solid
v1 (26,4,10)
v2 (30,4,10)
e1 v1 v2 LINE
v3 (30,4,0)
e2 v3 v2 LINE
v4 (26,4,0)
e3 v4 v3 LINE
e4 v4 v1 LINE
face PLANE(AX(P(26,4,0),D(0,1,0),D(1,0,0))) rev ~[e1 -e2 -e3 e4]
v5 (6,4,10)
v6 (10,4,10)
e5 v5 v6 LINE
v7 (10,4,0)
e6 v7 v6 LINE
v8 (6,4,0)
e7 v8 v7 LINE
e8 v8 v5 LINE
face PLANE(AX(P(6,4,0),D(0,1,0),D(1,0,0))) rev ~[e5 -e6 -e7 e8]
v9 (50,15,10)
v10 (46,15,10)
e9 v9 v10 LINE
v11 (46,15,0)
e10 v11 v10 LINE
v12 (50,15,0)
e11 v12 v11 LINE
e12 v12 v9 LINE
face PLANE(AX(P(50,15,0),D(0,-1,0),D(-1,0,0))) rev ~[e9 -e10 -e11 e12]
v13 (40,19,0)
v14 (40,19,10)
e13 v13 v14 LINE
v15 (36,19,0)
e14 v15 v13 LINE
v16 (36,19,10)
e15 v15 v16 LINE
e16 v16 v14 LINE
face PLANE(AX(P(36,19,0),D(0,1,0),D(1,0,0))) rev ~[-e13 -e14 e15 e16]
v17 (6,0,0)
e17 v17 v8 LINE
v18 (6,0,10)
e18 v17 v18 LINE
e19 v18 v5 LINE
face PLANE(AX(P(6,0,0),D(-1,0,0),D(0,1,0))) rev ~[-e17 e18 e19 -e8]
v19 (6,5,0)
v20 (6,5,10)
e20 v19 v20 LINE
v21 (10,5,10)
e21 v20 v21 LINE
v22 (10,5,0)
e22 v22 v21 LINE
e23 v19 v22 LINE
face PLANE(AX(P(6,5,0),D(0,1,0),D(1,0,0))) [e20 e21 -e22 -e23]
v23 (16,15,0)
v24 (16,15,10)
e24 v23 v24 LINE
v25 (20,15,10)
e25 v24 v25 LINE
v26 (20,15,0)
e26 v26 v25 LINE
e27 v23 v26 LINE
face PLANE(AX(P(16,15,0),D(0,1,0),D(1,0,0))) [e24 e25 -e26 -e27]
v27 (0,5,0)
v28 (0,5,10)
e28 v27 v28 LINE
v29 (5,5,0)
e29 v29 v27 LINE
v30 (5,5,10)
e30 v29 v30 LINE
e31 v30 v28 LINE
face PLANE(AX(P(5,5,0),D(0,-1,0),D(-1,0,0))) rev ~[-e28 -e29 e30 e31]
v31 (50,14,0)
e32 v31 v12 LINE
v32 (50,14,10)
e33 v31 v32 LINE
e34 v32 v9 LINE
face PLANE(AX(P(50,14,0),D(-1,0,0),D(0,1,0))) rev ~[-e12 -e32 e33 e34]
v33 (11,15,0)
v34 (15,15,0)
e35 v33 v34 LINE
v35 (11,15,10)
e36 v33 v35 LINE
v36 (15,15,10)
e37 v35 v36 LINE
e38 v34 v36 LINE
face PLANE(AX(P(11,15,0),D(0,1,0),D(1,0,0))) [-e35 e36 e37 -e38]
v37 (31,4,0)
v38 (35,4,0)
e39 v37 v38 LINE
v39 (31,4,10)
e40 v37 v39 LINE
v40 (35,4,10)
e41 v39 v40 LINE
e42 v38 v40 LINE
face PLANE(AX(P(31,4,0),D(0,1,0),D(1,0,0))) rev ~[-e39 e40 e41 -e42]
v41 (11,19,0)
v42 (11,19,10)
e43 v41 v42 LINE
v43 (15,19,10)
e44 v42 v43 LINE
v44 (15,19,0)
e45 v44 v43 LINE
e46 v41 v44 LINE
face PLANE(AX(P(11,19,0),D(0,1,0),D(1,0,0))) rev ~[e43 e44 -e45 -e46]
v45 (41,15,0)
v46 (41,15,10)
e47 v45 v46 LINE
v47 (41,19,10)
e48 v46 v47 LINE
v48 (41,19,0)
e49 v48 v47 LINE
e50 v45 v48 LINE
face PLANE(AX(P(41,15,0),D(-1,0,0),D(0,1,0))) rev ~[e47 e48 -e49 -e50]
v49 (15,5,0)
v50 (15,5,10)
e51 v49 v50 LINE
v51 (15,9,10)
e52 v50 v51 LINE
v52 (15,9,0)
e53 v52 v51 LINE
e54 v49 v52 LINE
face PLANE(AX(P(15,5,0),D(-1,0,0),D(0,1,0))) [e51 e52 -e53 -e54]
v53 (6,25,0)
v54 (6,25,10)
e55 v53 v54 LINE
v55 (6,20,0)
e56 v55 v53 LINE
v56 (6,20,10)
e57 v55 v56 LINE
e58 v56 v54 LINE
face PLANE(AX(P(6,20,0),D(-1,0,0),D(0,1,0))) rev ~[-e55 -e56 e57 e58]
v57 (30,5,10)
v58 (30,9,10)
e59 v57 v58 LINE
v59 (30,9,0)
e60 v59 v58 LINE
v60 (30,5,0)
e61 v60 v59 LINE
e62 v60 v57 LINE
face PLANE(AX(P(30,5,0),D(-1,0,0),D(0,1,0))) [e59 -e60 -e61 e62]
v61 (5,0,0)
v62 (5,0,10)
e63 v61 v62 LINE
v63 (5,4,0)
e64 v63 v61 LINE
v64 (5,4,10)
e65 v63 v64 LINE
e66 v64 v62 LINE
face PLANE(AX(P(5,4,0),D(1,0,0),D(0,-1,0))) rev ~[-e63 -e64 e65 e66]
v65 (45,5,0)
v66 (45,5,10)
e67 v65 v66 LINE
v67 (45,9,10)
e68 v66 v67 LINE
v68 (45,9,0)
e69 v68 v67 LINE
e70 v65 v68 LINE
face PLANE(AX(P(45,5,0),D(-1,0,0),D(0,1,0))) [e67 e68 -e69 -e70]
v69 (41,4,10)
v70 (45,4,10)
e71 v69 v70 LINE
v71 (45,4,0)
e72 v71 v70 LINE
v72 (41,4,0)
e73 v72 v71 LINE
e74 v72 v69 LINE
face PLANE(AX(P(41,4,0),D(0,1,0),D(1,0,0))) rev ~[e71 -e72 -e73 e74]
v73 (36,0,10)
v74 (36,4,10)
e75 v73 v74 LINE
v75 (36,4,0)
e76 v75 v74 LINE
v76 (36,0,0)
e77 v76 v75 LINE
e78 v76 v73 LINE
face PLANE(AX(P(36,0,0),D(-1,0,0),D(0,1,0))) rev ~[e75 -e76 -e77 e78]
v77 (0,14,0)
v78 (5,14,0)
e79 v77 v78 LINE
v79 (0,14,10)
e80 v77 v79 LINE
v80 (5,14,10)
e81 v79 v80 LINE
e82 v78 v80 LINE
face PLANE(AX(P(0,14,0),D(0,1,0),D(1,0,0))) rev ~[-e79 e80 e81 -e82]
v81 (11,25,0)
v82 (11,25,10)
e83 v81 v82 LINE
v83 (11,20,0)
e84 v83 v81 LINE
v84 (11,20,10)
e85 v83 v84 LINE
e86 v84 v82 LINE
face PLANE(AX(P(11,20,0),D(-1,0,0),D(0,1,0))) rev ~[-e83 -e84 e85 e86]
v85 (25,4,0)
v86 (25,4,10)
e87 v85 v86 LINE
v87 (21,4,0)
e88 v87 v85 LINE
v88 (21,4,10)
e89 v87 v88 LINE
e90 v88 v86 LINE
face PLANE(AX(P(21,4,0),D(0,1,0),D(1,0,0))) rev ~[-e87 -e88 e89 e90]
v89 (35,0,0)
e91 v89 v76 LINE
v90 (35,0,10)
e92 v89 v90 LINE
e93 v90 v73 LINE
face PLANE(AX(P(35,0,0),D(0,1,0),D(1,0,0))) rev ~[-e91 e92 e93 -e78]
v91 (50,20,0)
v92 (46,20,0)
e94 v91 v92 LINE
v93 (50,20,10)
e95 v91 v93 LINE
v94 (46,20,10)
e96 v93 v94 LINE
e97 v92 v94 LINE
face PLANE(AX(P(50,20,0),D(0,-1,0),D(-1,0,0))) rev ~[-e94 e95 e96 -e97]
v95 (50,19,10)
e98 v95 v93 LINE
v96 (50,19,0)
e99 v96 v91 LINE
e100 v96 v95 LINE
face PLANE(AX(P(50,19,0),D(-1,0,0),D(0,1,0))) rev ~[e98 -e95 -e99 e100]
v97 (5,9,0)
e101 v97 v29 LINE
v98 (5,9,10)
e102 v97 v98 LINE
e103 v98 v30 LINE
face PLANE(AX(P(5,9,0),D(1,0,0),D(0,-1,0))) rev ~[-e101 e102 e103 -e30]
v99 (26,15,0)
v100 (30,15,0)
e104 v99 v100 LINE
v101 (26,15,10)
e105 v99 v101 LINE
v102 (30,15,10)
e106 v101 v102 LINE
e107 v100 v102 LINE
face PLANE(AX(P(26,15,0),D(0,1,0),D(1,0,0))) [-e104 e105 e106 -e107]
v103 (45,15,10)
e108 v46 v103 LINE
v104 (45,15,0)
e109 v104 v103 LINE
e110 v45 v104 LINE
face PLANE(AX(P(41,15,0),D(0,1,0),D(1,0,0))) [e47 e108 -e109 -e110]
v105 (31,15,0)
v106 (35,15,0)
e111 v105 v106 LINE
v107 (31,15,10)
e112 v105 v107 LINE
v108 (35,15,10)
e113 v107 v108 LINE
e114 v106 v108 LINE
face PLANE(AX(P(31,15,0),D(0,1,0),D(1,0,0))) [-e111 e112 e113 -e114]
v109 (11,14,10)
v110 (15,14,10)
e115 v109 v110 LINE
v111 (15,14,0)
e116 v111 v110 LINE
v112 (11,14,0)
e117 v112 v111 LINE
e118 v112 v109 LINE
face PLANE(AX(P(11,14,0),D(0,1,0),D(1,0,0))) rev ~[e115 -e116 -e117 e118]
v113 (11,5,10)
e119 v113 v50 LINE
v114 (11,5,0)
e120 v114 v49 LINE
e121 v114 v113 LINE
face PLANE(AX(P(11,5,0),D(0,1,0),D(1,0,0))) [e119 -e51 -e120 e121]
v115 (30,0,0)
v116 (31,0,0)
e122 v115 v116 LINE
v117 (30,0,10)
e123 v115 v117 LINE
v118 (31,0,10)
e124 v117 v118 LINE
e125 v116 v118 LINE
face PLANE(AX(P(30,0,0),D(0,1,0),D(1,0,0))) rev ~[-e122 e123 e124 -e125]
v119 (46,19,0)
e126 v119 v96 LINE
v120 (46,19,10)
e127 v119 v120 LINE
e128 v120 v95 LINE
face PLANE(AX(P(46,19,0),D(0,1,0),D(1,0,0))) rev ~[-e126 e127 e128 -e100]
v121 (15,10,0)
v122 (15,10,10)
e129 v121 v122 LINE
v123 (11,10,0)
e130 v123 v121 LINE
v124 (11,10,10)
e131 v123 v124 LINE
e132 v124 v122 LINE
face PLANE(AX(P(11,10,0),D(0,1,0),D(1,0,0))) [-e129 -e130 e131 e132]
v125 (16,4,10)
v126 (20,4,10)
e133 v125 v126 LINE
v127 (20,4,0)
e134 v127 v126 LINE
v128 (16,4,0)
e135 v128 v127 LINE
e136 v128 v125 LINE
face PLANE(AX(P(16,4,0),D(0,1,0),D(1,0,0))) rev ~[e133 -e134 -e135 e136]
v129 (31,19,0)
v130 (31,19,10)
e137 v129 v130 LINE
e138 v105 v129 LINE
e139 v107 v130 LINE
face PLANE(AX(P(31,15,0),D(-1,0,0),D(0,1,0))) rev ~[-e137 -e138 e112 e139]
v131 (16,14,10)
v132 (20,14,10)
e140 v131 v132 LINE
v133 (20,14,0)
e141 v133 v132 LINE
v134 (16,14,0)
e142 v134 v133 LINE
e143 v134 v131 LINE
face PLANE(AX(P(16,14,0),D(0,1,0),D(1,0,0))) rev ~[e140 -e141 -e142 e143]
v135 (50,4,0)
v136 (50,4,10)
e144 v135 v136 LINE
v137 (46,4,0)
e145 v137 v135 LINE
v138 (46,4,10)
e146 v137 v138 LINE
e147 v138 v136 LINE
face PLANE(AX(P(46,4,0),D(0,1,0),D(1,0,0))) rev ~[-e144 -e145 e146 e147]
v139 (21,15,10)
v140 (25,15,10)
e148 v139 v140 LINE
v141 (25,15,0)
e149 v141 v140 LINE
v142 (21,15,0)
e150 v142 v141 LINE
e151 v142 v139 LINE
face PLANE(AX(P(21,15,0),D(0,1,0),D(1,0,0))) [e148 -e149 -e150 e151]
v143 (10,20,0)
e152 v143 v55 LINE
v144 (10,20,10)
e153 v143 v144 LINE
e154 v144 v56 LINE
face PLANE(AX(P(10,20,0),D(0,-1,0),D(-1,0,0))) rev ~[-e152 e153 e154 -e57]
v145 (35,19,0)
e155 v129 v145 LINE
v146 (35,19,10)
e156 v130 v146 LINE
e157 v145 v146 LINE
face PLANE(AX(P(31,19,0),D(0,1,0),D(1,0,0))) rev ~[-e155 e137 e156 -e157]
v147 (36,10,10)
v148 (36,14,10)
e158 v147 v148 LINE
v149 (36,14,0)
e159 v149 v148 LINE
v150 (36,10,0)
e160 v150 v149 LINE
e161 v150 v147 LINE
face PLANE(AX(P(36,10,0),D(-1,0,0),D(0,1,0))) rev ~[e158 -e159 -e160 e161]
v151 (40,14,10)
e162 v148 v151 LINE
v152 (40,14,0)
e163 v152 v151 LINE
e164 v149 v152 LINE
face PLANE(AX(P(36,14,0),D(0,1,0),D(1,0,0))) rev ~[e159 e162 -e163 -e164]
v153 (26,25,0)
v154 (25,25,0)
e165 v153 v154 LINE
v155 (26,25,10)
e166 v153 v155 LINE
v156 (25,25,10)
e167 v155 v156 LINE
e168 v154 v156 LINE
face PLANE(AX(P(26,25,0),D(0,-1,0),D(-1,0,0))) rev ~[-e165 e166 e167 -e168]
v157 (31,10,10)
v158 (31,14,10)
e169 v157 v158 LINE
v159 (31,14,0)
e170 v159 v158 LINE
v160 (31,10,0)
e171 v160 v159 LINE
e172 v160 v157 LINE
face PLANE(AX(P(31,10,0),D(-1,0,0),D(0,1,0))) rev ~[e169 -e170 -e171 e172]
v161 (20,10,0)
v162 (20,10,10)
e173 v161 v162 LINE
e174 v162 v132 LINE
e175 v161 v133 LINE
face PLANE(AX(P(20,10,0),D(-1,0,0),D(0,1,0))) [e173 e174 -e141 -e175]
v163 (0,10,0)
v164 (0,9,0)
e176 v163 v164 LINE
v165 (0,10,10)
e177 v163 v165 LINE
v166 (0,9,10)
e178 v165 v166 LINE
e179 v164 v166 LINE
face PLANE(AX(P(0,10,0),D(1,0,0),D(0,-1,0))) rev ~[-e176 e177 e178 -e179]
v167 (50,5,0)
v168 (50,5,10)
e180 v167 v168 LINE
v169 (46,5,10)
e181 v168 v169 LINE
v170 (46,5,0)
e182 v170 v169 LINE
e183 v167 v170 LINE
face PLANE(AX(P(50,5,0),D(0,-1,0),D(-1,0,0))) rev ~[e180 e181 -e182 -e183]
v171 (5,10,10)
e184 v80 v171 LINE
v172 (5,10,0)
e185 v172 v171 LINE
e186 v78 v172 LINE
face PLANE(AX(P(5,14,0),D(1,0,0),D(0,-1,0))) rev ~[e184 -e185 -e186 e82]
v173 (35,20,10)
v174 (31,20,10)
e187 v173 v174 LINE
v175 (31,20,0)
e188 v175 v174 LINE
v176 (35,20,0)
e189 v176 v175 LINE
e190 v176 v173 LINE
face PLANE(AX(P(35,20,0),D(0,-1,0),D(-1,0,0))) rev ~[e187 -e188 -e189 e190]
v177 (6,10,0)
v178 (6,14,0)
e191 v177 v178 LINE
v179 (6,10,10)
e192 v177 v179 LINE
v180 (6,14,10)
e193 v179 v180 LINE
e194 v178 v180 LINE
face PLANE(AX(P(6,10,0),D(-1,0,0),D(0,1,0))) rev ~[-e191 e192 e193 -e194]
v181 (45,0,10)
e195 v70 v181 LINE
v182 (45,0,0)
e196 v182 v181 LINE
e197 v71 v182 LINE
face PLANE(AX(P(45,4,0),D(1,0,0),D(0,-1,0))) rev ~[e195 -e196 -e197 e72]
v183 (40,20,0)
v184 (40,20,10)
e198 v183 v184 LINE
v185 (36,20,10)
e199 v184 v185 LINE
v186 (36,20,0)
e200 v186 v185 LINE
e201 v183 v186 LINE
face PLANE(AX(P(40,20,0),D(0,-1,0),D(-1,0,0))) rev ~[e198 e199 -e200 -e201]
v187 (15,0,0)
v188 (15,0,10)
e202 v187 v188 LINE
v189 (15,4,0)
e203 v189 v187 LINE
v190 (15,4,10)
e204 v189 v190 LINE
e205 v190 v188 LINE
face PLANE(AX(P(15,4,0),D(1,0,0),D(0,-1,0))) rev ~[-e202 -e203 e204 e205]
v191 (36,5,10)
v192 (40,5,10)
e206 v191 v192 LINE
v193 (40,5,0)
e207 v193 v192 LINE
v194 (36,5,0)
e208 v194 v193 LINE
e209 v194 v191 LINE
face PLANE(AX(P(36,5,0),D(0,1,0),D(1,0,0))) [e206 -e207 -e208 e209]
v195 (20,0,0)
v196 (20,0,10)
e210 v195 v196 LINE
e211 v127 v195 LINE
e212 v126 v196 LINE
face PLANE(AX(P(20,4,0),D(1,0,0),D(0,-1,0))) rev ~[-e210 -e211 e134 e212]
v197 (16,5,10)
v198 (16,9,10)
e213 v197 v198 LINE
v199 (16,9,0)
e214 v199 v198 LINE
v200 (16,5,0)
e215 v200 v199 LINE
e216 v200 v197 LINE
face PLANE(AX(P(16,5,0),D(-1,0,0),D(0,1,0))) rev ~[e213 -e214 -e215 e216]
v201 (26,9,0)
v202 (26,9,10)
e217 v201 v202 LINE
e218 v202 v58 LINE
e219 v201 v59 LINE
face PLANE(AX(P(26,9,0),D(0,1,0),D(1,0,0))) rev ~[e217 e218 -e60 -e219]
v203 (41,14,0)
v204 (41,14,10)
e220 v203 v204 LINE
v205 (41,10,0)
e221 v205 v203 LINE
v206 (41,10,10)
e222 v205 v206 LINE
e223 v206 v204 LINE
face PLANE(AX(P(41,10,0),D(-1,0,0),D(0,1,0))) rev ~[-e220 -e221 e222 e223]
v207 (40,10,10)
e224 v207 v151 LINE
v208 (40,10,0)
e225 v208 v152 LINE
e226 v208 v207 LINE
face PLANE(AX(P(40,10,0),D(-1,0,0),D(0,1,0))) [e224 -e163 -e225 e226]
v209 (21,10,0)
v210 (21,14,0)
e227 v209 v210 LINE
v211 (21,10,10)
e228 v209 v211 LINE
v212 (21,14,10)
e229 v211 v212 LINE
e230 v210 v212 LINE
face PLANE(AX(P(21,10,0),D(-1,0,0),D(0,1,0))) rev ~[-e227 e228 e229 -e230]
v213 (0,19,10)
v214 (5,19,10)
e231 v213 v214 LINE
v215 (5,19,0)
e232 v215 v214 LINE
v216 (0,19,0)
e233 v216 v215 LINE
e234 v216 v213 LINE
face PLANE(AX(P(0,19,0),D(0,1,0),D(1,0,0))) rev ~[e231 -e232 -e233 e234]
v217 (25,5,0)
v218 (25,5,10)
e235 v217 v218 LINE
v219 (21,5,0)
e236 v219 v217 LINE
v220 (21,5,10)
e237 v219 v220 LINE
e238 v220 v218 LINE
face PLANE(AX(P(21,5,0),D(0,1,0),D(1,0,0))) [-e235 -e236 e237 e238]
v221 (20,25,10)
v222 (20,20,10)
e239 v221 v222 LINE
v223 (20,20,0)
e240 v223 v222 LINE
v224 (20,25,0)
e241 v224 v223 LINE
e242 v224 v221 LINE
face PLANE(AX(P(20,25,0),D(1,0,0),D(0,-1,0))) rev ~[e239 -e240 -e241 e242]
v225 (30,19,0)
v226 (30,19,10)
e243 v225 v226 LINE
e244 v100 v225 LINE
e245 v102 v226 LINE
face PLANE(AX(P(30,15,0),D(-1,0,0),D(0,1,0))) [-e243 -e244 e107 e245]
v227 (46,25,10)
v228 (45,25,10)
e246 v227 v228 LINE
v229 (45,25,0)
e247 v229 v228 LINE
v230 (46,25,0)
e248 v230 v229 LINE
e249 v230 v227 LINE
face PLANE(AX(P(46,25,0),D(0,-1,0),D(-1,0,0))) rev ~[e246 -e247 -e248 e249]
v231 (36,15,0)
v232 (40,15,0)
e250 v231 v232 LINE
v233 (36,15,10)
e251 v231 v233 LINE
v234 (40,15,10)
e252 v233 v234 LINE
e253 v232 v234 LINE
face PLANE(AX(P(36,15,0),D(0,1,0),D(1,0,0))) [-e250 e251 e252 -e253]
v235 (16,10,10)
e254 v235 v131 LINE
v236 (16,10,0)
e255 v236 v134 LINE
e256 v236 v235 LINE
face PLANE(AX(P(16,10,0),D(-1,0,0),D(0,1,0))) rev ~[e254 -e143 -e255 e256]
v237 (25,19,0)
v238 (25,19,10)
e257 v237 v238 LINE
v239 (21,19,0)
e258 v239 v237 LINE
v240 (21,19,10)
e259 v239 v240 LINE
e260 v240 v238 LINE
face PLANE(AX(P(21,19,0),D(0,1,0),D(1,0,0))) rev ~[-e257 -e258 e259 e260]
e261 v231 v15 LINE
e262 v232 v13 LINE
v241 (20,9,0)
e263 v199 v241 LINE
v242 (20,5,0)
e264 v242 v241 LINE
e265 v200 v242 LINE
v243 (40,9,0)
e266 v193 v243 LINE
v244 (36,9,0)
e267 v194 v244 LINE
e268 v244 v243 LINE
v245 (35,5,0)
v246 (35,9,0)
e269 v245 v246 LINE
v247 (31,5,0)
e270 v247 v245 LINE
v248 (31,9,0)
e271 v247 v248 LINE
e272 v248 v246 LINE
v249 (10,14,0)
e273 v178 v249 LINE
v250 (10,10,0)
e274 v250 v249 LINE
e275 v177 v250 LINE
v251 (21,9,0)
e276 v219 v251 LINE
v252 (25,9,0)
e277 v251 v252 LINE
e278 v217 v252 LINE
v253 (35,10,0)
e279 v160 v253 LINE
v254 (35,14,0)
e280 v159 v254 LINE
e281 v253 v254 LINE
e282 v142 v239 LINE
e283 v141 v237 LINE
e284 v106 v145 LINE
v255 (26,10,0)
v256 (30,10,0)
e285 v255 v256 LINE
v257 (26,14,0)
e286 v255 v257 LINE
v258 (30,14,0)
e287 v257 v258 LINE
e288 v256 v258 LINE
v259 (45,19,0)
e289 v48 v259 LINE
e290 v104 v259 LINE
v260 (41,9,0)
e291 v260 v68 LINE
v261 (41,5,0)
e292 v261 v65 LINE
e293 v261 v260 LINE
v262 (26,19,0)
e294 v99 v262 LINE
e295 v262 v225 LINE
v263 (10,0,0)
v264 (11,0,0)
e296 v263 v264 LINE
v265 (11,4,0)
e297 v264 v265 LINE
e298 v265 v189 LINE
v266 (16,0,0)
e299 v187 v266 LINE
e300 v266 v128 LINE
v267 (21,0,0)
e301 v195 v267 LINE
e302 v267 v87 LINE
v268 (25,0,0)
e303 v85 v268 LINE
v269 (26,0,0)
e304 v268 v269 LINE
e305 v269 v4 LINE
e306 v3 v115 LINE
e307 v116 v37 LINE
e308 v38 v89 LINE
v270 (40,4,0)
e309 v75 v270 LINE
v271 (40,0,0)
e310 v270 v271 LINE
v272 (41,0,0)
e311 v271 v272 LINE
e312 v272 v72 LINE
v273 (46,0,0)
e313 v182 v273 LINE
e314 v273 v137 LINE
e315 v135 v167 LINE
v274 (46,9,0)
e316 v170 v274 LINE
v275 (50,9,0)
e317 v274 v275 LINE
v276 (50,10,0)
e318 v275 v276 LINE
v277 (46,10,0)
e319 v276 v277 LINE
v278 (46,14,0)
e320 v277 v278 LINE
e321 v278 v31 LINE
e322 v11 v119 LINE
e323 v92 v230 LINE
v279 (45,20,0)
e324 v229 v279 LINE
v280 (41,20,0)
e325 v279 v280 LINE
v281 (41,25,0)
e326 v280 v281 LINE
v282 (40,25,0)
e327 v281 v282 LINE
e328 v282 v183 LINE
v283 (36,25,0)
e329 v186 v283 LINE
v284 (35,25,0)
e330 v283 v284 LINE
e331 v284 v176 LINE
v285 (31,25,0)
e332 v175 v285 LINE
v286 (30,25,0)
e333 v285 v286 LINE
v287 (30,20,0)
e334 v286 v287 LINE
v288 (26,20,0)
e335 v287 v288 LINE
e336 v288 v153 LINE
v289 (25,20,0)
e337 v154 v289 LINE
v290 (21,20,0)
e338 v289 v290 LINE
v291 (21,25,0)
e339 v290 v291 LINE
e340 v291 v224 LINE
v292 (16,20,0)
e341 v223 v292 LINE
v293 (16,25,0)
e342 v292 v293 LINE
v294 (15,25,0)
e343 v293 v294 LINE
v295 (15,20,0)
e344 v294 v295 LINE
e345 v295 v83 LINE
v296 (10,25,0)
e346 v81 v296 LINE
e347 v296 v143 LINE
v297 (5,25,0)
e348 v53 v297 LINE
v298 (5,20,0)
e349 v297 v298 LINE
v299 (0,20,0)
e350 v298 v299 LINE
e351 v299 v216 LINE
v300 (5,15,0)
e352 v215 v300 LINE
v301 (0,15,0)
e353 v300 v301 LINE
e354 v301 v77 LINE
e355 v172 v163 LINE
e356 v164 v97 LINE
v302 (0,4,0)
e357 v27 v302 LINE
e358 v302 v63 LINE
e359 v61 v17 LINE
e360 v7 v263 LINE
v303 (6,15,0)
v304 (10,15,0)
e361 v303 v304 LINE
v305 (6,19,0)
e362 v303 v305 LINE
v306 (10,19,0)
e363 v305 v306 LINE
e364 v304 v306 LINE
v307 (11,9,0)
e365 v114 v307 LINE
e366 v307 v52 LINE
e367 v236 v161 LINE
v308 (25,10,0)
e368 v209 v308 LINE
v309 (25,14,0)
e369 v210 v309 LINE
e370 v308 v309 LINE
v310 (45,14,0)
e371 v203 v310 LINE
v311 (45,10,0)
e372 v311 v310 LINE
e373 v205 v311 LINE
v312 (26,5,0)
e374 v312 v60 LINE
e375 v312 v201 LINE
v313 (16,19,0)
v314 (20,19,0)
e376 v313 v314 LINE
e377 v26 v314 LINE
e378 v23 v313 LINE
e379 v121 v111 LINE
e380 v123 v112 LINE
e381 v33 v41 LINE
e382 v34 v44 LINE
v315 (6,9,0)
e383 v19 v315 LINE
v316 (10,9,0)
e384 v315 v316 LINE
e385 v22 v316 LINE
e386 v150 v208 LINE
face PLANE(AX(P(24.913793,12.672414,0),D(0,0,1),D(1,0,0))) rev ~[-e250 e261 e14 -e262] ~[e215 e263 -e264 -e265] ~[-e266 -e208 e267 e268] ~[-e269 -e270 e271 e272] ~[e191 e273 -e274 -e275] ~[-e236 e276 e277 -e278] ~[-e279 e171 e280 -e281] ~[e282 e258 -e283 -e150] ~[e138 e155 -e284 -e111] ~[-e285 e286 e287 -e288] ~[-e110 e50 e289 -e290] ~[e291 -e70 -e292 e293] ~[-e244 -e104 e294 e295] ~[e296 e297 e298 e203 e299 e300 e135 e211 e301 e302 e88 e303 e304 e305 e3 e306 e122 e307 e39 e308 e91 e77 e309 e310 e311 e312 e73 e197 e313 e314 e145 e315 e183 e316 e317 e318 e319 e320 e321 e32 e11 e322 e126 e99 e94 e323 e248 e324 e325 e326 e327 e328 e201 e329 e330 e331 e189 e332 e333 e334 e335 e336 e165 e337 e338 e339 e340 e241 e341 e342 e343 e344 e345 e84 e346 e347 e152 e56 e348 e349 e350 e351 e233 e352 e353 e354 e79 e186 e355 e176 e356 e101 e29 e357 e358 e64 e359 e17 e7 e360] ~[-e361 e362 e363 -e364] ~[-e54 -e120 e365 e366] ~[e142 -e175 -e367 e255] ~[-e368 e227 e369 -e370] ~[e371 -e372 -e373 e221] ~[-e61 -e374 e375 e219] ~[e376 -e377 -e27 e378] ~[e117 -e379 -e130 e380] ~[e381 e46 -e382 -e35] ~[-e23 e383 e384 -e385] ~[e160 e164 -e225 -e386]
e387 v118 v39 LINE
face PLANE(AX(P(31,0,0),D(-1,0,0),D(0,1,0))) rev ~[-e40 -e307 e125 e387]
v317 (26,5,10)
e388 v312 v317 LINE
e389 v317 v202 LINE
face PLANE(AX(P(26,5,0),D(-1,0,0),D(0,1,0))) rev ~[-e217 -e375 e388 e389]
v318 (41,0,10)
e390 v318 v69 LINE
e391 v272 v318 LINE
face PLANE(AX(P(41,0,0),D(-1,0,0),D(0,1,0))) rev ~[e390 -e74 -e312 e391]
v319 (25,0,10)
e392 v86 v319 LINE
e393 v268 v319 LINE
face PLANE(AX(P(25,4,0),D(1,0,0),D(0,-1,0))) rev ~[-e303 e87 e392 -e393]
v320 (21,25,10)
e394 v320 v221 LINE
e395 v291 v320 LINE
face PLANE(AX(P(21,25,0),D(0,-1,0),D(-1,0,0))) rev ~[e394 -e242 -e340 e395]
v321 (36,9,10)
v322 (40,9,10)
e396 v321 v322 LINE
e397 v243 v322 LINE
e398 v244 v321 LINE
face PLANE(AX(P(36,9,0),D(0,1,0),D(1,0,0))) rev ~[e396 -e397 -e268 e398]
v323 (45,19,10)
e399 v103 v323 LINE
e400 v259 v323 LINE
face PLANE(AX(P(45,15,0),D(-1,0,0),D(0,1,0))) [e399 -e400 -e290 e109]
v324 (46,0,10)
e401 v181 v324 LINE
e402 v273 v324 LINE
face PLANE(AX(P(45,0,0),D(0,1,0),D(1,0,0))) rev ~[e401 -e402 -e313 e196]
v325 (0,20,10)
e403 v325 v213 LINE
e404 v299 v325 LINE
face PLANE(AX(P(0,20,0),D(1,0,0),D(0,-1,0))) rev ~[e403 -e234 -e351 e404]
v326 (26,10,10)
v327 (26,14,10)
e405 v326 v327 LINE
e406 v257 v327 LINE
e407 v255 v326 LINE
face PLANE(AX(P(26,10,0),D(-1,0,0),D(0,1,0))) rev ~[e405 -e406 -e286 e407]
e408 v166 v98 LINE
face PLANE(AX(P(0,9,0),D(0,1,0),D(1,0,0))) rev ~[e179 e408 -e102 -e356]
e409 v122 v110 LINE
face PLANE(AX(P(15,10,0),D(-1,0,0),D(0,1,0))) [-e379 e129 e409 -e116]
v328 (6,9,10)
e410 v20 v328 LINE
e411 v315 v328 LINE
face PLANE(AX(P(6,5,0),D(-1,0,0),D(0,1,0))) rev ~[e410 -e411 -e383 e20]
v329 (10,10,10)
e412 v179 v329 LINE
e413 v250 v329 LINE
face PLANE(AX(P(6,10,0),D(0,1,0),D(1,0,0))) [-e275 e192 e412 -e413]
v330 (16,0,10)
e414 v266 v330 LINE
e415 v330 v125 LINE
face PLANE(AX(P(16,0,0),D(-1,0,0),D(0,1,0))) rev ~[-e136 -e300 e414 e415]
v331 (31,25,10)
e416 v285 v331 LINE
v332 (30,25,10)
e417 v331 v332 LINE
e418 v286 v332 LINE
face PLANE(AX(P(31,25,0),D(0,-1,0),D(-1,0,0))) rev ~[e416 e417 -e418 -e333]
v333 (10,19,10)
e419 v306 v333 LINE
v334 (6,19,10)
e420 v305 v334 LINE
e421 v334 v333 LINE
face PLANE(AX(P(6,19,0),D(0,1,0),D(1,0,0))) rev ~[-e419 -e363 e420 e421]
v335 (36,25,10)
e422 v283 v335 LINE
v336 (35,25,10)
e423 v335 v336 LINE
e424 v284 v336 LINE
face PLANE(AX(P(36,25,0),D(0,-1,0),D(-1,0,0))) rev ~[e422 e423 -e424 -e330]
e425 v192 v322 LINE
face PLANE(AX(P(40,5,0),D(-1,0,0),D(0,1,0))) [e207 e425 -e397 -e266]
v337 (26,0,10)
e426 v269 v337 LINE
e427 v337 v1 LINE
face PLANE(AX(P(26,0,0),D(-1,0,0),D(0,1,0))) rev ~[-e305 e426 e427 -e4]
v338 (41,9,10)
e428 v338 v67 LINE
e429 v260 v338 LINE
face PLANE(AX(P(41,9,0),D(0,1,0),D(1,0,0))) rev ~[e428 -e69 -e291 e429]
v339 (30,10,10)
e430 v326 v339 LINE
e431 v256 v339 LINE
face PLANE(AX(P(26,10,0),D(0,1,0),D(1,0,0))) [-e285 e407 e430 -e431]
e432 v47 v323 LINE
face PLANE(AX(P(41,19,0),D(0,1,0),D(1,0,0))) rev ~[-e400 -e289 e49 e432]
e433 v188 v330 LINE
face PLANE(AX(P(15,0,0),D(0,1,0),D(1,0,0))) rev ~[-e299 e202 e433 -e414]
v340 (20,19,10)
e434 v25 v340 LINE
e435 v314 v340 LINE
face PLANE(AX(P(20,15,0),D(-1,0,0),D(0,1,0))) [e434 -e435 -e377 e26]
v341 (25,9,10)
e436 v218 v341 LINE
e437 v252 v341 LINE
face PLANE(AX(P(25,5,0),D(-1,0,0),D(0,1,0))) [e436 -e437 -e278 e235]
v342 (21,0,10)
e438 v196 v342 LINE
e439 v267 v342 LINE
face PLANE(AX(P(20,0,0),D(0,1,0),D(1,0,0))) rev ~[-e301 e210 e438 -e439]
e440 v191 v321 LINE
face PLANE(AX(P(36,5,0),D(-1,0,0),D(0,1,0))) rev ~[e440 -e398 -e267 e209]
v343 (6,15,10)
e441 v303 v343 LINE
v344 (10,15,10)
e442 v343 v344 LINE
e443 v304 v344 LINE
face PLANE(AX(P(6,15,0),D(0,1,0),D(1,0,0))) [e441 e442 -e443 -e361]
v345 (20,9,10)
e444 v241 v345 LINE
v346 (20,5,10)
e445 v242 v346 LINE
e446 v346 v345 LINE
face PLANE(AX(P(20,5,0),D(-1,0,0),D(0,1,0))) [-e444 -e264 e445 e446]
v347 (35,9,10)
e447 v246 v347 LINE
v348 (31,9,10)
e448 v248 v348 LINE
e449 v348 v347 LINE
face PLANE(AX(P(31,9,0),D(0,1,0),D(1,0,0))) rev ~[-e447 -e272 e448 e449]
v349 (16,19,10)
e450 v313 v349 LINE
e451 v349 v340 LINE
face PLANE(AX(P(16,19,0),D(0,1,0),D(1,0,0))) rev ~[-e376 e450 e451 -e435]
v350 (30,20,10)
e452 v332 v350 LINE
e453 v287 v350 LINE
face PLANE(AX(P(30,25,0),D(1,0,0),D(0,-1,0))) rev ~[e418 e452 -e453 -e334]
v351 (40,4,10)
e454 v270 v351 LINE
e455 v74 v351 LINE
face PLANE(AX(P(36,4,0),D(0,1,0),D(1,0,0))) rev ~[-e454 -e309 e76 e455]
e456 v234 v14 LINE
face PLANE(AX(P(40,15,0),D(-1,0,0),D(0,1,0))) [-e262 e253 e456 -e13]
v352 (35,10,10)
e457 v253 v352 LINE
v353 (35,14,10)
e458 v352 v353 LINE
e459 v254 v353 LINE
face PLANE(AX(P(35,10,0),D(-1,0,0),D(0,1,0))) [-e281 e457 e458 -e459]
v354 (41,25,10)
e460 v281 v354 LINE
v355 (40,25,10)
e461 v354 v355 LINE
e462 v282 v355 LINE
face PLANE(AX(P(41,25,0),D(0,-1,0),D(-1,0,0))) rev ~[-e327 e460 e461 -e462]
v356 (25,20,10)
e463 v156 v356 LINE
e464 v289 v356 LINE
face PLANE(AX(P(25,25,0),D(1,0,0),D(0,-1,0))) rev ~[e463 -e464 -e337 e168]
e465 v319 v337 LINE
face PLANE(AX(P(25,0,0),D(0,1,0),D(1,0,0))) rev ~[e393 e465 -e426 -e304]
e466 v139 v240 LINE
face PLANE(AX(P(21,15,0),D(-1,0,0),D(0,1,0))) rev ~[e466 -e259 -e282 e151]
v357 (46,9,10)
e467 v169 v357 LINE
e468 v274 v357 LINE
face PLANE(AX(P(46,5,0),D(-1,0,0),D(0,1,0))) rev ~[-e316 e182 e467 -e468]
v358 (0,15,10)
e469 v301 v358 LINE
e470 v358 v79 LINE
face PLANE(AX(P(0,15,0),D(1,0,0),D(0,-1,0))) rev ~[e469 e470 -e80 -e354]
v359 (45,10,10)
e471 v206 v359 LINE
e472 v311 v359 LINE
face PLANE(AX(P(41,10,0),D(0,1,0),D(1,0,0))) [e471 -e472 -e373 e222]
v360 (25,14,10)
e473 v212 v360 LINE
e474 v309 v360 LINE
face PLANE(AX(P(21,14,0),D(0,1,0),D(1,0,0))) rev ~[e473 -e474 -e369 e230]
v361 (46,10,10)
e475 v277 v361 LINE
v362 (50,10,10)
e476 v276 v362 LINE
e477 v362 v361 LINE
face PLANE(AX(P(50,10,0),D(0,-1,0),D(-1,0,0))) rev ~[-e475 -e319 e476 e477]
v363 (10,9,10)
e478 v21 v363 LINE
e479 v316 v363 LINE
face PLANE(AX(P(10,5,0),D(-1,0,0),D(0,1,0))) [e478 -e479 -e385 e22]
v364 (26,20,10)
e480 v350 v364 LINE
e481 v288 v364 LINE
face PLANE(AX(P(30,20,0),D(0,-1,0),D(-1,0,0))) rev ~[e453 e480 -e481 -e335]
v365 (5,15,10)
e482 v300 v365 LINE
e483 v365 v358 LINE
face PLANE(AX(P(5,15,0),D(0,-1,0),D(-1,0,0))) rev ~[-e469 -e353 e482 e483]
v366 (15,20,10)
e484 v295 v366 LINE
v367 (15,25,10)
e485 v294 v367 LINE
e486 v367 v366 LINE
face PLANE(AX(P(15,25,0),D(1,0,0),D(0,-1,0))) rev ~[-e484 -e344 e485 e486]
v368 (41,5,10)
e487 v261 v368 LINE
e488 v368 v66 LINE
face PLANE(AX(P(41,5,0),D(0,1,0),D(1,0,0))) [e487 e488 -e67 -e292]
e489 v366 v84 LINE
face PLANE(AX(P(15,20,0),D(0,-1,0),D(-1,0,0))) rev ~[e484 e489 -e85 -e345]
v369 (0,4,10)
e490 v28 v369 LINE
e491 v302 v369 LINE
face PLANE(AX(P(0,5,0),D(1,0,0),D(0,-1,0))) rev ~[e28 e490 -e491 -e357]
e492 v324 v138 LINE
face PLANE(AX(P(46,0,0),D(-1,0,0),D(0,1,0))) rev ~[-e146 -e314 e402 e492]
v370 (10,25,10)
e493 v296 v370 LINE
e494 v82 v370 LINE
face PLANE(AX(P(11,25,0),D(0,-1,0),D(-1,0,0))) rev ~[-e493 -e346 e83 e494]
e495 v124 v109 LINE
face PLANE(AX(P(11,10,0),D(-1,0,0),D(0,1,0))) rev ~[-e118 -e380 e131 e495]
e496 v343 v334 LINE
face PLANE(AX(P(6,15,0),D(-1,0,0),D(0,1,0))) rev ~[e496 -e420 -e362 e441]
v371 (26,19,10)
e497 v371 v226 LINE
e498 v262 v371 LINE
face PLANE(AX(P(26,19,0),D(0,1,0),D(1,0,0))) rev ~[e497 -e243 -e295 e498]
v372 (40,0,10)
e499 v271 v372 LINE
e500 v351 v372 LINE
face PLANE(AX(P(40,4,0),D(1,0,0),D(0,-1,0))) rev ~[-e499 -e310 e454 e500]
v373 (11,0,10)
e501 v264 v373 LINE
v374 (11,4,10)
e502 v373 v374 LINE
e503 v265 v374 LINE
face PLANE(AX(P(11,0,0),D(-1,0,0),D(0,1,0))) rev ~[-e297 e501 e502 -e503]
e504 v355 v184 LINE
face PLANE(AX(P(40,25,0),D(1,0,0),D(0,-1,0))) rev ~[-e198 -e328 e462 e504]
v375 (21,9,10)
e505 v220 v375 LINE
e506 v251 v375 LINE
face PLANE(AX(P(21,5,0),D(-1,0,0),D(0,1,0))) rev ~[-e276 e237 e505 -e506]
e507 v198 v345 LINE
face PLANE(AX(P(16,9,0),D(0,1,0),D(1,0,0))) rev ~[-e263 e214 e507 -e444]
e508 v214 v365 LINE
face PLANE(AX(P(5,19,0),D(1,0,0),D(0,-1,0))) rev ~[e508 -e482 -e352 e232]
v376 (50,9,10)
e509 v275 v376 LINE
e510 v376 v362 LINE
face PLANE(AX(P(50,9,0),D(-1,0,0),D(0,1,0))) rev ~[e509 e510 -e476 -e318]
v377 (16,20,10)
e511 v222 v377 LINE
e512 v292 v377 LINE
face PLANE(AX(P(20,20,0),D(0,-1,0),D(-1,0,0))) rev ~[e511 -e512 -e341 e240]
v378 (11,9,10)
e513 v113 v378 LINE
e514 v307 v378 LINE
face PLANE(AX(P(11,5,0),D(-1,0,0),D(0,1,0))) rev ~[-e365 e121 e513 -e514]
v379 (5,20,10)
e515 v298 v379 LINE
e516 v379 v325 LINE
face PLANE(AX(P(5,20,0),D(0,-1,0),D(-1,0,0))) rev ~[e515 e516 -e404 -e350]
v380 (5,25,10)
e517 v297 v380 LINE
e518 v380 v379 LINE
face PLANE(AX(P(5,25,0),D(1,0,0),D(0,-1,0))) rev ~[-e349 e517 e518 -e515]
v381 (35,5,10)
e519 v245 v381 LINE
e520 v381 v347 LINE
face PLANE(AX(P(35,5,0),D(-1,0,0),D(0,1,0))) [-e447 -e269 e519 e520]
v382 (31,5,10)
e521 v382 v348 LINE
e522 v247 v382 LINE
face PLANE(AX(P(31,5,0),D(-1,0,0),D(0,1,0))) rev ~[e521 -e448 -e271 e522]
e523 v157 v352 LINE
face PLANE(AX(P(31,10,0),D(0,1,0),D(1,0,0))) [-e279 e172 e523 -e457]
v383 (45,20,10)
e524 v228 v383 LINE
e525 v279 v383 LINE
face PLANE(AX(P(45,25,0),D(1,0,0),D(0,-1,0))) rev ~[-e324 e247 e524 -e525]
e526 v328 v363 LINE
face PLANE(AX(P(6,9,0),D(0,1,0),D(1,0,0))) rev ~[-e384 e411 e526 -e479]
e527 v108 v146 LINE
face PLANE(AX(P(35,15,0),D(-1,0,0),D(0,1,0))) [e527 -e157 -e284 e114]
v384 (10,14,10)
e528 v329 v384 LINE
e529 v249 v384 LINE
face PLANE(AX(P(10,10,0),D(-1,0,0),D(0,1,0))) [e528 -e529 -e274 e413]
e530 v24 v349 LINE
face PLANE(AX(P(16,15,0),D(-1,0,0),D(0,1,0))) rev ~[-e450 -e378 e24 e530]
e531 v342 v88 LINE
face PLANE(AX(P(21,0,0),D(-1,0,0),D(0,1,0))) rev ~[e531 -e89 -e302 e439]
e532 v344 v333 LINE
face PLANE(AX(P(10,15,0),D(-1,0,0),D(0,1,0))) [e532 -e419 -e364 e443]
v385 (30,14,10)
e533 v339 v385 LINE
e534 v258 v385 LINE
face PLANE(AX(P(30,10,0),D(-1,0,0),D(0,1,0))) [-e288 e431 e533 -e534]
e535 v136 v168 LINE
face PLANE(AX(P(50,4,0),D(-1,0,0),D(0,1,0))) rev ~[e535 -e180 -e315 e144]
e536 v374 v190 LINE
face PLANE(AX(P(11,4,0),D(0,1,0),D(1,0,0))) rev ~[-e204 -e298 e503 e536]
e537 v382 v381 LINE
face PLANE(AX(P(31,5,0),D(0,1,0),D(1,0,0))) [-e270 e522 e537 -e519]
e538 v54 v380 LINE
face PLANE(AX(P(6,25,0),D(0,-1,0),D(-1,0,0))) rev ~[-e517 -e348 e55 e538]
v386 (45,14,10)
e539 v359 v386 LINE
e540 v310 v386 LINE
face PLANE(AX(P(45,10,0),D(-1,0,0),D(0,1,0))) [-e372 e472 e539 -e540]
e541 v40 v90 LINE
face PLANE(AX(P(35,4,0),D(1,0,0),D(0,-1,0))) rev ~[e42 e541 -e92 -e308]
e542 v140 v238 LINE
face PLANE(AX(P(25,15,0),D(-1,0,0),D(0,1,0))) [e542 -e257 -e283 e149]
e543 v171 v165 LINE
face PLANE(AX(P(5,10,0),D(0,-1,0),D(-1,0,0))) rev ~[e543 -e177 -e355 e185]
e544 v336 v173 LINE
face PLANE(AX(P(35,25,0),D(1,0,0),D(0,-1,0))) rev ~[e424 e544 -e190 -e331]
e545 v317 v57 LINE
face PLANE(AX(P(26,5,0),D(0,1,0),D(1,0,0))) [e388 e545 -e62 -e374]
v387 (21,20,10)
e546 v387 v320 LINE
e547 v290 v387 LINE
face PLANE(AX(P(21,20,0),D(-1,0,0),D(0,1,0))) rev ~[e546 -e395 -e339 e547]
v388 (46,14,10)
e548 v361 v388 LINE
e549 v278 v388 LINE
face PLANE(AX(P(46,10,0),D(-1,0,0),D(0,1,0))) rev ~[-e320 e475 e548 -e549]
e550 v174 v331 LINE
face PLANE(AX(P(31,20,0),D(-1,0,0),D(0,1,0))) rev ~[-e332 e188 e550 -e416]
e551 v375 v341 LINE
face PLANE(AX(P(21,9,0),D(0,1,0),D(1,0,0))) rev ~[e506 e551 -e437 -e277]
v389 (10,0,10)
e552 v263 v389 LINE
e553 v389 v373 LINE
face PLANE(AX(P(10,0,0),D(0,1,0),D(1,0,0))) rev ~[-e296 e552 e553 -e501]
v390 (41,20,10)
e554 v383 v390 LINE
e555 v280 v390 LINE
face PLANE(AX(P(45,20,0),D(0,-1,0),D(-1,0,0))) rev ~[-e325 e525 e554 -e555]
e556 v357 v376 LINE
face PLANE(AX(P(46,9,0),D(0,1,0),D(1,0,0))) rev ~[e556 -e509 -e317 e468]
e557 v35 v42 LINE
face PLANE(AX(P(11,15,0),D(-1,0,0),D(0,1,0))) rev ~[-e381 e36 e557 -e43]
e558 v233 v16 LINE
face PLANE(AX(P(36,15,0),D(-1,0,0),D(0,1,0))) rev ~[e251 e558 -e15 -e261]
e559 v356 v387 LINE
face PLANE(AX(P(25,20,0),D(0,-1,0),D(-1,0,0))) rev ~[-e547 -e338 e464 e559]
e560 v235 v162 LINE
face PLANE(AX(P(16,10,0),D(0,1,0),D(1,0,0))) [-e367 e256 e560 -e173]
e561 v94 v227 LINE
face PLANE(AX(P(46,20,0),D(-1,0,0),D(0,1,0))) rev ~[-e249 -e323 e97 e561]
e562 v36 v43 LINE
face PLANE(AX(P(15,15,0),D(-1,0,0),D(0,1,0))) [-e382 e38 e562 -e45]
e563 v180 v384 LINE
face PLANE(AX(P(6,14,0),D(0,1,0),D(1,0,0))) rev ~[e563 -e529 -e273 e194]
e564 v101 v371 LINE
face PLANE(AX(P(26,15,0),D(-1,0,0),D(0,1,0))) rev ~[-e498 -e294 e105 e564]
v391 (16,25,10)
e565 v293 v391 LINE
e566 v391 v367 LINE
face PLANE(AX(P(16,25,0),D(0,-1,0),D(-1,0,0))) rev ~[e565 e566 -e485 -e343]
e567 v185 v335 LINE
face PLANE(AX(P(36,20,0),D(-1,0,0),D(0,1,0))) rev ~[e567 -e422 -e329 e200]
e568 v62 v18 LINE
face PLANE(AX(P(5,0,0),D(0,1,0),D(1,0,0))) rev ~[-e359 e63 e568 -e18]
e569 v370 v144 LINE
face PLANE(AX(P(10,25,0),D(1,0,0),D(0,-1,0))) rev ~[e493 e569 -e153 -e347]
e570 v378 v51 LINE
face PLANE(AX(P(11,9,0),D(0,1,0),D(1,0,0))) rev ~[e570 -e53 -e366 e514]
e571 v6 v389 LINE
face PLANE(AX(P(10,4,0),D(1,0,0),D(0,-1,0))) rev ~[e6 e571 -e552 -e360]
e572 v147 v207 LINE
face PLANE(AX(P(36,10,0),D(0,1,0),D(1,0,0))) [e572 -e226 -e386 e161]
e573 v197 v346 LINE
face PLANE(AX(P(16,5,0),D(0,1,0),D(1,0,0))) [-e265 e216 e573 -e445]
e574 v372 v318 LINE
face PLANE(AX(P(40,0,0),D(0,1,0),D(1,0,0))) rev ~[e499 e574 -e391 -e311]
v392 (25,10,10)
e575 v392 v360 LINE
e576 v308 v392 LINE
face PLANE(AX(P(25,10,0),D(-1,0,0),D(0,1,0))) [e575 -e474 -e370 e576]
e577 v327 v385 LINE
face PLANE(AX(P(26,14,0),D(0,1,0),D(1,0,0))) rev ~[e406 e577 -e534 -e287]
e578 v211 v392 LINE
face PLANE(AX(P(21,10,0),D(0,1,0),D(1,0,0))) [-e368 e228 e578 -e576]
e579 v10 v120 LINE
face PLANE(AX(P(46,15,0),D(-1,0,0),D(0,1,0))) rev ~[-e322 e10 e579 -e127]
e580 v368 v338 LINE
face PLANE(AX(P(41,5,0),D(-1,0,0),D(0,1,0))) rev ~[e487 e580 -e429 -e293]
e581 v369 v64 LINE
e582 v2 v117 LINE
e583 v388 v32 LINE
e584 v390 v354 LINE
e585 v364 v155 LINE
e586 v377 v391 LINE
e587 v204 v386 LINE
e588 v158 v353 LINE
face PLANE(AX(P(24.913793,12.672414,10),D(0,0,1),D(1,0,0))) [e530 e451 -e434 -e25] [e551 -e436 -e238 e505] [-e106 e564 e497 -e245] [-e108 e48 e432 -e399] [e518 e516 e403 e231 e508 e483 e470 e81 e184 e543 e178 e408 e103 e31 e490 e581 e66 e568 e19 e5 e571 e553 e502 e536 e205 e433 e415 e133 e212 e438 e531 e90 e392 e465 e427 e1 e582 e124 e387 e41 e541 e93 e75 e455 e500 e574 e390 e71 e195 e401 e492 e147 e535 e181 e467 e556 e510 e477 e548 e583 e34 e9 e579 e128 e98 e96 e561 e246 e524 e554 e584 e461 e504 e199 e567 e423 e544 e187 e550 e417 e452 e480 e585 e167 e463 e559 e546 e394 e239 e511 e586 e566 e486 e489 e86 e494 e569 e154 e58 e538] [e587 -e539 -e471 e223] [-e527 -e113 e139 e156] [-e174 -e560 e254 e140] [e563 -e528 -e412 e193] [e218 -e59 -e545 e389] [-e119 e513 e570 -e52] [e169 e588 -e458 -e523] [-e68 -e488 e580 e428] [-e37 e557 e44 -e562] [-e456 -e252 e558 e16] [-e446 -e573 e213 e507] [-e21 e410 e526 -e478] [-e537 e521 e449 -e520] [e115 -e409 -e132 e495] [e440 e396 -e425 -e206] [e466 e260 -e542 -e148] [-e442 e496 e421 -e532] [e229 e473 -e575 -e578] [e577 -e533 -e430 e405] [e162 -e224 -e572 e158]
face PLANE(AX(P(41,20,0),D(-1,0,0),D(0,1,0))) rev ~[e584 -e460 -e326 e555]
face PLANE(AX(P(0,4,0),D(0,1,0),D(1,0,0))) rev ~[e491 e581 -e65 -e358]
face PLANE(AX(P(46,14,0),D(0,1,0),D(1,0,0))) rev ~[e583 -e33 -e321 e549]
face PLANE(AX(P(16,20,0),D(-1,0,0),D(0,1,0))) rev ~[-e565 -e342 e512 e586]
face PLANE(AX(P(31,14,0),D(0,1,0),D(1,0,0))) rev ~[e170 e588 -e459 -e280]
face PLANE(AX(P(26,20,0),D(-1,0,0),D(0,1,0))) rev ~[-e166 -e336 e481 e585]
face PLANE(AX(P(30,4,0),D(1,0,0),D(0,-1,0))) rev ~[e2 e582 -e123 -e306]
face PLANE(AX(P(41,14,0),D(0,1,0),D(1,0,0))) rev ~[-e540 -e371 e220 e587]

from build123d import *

# Parameters (mm, degrees)
F0_W     = 4
F0_H     = 4
F1_DEPTH = 10


with BuildPart() as f1:
    # F0 (on Top) → F1 (new body)
    with BuildSketch(Plane.XY):
        Polygon((0, 5), (0, 4), (1, 4), (5, 4), (5, 0), (6, 0), (6, 4), (10, 4), (10, 0), (11, 0), (11, 4), (15, 4), (15, 0), (16, 0), (16, 4), (20, 4), (20, 0), (21, 0), (21, 4), (25, 4), (25, 0), (26, 0), (26, 4), (30, 4), (30, 0), (31, 0), (31, 4), (35, 4), (35, 0), (36, 0), (36, 4), (40, 4), (40, 0), (41, 0), (41, 4), (45, 4), (45, 0), (46, 0), (46, 4), (50, 4), (50, 5), (46, 5), (46, 9), (50, 9), (50, 10), (46, 10), (46, 14), (50, 14), (50, 15), (46, 15), (46, 19), (50, 19), (50, 20), (46, 20), (46, 24), (46, 25), (45, 25), (45, 24), (45, 20), (41, 20), (41, 24), (41, 25), (40, 25), (40, 24), (40, 20), (36, 20), (36, 24), (36, 25), (35, 25), (35, 24), (35, 20), (31, 20), (31, 24), (31, 25), (30, 25), (30, 24), (30, 20), (26, 20), (26, 24), (26, 25), (25, 25), (25, 24), (25, 20), (21, 20), (21, 24), (21, 25), (20, 25), (20, 24), (20, 20), (16, 20), (16, 24), (16, 25), (15, 25), (15, 24), (15, 20), (11, 20), (11, 24), (11, 25), (10, 25), (10, 24), (10, 20), (6, 20), (6, 24), (6, 25), (5, 25), (5, 24), (5, 20), (1, 20), (0, 20), (0, 19), (1, 19), (5, 19), (5, 15), (1, 15), (0, 15), (0, 14), (1, 14), (5, 14), (5, 10), (1, 10), (0, 10), (0, 9), (1, 9), (5, 9), (5, 5), (1, 5), align=None)
        with Locations((8, 7)):
            Rectangle(F0_W, F0_H, mode=Mode.SUBTRACT)
        with Locations((8, 12)):
            Rectangle(F0_W, F0_H, mode=Mode.SUBTRACT)
        with Locations((13, 7)):
            Rectangle(F0_W, F0_H, mode=Mode.SUBTRACT)
        with Locations((18, 7)):
            Rectangle(F0_W, F0_H, mode=Mode.SUBTRACT)
        with Locations((23, 7)):
            Rectangle(F0_W, F0_H, mode=Mode.SUBTRACT)
        with Locations((13, 12)):
            Rectangle(F0_W, F0_H, mode=Mode.SUBTRACT)
        with Locations((18, 12)):
            Rectangle(F0_W, F0_H, mode=Mode.SUBTRACT)
        with Locations((23, 12)):
            Rectangle(F0_W, F0_H, mode=Mode.SUBTRACT)
        with Locations((28, 7)):
            Rectangle(F0_W, F0_H, mode=Mode.SUBTRACT)
        with Locations((33, 7)):
            Rectangle(F0_W, F0_H, mode=Mode.SUBTRACT)
        with Locations((28, 12)):
            Rectangle(F0_W, F0_H, mode=Mode.SUBTRACT)
        with Locations((33, 12)):
            Rectangle(F0_W, F0_H, mode=Mode.SUBTRACT)
        with Locations((38, 7)):
            Rectangle(F0_W, F0_H, mode=Mode.SUBTRACT)
        with Locations((43, 7)):
            Rectangle(F0_W, F0_H, mode=Mode.SUBTRACT)
        with Locations((38, 12)):
            Rectangle(F0_W, F0_H, mode=Mode.SUBTRACT)
        with Locations((43, 12)):
            Rectangle(F0_W, F0_H, mode=Mode.SUBTRACT)
        with Locations((8, 17)):
            Rectangle(F0_W, F0_H, mode=Mode.SUBTRACT)
        with Locations((13, 17)):
            Rectangle(F0_W, F0_H, mode=Mode.SUBTRACT)
        with Locations((18, 17)):
            Rectangle(F0_W, F0_H, mode=Mode.SUBTRACT)
        with Locations((23, 17)):
            Rectangle(F0_W, F0_H, mode=Mode.SUBTRACT)
        with Locations((28, 17)):
            Rectangle(F0_W, F0_H, mode=Mode.SUBTRACT)
        with Locations((33, 17)):
            Rectangle(F0_W, F0_H, mode=Mode.SUBTRACT)
        with Locations((38, 17)):
            Rectangle(F0_W, F0_H, mode=Mode.SUBTRACT)
        with Locations((43, 17)):
            Rectangle(F0_W, F0_H, mode=Mode.SUBTRACT)
    extrude(amount=F1_DEPTH)


solid = f1.part
